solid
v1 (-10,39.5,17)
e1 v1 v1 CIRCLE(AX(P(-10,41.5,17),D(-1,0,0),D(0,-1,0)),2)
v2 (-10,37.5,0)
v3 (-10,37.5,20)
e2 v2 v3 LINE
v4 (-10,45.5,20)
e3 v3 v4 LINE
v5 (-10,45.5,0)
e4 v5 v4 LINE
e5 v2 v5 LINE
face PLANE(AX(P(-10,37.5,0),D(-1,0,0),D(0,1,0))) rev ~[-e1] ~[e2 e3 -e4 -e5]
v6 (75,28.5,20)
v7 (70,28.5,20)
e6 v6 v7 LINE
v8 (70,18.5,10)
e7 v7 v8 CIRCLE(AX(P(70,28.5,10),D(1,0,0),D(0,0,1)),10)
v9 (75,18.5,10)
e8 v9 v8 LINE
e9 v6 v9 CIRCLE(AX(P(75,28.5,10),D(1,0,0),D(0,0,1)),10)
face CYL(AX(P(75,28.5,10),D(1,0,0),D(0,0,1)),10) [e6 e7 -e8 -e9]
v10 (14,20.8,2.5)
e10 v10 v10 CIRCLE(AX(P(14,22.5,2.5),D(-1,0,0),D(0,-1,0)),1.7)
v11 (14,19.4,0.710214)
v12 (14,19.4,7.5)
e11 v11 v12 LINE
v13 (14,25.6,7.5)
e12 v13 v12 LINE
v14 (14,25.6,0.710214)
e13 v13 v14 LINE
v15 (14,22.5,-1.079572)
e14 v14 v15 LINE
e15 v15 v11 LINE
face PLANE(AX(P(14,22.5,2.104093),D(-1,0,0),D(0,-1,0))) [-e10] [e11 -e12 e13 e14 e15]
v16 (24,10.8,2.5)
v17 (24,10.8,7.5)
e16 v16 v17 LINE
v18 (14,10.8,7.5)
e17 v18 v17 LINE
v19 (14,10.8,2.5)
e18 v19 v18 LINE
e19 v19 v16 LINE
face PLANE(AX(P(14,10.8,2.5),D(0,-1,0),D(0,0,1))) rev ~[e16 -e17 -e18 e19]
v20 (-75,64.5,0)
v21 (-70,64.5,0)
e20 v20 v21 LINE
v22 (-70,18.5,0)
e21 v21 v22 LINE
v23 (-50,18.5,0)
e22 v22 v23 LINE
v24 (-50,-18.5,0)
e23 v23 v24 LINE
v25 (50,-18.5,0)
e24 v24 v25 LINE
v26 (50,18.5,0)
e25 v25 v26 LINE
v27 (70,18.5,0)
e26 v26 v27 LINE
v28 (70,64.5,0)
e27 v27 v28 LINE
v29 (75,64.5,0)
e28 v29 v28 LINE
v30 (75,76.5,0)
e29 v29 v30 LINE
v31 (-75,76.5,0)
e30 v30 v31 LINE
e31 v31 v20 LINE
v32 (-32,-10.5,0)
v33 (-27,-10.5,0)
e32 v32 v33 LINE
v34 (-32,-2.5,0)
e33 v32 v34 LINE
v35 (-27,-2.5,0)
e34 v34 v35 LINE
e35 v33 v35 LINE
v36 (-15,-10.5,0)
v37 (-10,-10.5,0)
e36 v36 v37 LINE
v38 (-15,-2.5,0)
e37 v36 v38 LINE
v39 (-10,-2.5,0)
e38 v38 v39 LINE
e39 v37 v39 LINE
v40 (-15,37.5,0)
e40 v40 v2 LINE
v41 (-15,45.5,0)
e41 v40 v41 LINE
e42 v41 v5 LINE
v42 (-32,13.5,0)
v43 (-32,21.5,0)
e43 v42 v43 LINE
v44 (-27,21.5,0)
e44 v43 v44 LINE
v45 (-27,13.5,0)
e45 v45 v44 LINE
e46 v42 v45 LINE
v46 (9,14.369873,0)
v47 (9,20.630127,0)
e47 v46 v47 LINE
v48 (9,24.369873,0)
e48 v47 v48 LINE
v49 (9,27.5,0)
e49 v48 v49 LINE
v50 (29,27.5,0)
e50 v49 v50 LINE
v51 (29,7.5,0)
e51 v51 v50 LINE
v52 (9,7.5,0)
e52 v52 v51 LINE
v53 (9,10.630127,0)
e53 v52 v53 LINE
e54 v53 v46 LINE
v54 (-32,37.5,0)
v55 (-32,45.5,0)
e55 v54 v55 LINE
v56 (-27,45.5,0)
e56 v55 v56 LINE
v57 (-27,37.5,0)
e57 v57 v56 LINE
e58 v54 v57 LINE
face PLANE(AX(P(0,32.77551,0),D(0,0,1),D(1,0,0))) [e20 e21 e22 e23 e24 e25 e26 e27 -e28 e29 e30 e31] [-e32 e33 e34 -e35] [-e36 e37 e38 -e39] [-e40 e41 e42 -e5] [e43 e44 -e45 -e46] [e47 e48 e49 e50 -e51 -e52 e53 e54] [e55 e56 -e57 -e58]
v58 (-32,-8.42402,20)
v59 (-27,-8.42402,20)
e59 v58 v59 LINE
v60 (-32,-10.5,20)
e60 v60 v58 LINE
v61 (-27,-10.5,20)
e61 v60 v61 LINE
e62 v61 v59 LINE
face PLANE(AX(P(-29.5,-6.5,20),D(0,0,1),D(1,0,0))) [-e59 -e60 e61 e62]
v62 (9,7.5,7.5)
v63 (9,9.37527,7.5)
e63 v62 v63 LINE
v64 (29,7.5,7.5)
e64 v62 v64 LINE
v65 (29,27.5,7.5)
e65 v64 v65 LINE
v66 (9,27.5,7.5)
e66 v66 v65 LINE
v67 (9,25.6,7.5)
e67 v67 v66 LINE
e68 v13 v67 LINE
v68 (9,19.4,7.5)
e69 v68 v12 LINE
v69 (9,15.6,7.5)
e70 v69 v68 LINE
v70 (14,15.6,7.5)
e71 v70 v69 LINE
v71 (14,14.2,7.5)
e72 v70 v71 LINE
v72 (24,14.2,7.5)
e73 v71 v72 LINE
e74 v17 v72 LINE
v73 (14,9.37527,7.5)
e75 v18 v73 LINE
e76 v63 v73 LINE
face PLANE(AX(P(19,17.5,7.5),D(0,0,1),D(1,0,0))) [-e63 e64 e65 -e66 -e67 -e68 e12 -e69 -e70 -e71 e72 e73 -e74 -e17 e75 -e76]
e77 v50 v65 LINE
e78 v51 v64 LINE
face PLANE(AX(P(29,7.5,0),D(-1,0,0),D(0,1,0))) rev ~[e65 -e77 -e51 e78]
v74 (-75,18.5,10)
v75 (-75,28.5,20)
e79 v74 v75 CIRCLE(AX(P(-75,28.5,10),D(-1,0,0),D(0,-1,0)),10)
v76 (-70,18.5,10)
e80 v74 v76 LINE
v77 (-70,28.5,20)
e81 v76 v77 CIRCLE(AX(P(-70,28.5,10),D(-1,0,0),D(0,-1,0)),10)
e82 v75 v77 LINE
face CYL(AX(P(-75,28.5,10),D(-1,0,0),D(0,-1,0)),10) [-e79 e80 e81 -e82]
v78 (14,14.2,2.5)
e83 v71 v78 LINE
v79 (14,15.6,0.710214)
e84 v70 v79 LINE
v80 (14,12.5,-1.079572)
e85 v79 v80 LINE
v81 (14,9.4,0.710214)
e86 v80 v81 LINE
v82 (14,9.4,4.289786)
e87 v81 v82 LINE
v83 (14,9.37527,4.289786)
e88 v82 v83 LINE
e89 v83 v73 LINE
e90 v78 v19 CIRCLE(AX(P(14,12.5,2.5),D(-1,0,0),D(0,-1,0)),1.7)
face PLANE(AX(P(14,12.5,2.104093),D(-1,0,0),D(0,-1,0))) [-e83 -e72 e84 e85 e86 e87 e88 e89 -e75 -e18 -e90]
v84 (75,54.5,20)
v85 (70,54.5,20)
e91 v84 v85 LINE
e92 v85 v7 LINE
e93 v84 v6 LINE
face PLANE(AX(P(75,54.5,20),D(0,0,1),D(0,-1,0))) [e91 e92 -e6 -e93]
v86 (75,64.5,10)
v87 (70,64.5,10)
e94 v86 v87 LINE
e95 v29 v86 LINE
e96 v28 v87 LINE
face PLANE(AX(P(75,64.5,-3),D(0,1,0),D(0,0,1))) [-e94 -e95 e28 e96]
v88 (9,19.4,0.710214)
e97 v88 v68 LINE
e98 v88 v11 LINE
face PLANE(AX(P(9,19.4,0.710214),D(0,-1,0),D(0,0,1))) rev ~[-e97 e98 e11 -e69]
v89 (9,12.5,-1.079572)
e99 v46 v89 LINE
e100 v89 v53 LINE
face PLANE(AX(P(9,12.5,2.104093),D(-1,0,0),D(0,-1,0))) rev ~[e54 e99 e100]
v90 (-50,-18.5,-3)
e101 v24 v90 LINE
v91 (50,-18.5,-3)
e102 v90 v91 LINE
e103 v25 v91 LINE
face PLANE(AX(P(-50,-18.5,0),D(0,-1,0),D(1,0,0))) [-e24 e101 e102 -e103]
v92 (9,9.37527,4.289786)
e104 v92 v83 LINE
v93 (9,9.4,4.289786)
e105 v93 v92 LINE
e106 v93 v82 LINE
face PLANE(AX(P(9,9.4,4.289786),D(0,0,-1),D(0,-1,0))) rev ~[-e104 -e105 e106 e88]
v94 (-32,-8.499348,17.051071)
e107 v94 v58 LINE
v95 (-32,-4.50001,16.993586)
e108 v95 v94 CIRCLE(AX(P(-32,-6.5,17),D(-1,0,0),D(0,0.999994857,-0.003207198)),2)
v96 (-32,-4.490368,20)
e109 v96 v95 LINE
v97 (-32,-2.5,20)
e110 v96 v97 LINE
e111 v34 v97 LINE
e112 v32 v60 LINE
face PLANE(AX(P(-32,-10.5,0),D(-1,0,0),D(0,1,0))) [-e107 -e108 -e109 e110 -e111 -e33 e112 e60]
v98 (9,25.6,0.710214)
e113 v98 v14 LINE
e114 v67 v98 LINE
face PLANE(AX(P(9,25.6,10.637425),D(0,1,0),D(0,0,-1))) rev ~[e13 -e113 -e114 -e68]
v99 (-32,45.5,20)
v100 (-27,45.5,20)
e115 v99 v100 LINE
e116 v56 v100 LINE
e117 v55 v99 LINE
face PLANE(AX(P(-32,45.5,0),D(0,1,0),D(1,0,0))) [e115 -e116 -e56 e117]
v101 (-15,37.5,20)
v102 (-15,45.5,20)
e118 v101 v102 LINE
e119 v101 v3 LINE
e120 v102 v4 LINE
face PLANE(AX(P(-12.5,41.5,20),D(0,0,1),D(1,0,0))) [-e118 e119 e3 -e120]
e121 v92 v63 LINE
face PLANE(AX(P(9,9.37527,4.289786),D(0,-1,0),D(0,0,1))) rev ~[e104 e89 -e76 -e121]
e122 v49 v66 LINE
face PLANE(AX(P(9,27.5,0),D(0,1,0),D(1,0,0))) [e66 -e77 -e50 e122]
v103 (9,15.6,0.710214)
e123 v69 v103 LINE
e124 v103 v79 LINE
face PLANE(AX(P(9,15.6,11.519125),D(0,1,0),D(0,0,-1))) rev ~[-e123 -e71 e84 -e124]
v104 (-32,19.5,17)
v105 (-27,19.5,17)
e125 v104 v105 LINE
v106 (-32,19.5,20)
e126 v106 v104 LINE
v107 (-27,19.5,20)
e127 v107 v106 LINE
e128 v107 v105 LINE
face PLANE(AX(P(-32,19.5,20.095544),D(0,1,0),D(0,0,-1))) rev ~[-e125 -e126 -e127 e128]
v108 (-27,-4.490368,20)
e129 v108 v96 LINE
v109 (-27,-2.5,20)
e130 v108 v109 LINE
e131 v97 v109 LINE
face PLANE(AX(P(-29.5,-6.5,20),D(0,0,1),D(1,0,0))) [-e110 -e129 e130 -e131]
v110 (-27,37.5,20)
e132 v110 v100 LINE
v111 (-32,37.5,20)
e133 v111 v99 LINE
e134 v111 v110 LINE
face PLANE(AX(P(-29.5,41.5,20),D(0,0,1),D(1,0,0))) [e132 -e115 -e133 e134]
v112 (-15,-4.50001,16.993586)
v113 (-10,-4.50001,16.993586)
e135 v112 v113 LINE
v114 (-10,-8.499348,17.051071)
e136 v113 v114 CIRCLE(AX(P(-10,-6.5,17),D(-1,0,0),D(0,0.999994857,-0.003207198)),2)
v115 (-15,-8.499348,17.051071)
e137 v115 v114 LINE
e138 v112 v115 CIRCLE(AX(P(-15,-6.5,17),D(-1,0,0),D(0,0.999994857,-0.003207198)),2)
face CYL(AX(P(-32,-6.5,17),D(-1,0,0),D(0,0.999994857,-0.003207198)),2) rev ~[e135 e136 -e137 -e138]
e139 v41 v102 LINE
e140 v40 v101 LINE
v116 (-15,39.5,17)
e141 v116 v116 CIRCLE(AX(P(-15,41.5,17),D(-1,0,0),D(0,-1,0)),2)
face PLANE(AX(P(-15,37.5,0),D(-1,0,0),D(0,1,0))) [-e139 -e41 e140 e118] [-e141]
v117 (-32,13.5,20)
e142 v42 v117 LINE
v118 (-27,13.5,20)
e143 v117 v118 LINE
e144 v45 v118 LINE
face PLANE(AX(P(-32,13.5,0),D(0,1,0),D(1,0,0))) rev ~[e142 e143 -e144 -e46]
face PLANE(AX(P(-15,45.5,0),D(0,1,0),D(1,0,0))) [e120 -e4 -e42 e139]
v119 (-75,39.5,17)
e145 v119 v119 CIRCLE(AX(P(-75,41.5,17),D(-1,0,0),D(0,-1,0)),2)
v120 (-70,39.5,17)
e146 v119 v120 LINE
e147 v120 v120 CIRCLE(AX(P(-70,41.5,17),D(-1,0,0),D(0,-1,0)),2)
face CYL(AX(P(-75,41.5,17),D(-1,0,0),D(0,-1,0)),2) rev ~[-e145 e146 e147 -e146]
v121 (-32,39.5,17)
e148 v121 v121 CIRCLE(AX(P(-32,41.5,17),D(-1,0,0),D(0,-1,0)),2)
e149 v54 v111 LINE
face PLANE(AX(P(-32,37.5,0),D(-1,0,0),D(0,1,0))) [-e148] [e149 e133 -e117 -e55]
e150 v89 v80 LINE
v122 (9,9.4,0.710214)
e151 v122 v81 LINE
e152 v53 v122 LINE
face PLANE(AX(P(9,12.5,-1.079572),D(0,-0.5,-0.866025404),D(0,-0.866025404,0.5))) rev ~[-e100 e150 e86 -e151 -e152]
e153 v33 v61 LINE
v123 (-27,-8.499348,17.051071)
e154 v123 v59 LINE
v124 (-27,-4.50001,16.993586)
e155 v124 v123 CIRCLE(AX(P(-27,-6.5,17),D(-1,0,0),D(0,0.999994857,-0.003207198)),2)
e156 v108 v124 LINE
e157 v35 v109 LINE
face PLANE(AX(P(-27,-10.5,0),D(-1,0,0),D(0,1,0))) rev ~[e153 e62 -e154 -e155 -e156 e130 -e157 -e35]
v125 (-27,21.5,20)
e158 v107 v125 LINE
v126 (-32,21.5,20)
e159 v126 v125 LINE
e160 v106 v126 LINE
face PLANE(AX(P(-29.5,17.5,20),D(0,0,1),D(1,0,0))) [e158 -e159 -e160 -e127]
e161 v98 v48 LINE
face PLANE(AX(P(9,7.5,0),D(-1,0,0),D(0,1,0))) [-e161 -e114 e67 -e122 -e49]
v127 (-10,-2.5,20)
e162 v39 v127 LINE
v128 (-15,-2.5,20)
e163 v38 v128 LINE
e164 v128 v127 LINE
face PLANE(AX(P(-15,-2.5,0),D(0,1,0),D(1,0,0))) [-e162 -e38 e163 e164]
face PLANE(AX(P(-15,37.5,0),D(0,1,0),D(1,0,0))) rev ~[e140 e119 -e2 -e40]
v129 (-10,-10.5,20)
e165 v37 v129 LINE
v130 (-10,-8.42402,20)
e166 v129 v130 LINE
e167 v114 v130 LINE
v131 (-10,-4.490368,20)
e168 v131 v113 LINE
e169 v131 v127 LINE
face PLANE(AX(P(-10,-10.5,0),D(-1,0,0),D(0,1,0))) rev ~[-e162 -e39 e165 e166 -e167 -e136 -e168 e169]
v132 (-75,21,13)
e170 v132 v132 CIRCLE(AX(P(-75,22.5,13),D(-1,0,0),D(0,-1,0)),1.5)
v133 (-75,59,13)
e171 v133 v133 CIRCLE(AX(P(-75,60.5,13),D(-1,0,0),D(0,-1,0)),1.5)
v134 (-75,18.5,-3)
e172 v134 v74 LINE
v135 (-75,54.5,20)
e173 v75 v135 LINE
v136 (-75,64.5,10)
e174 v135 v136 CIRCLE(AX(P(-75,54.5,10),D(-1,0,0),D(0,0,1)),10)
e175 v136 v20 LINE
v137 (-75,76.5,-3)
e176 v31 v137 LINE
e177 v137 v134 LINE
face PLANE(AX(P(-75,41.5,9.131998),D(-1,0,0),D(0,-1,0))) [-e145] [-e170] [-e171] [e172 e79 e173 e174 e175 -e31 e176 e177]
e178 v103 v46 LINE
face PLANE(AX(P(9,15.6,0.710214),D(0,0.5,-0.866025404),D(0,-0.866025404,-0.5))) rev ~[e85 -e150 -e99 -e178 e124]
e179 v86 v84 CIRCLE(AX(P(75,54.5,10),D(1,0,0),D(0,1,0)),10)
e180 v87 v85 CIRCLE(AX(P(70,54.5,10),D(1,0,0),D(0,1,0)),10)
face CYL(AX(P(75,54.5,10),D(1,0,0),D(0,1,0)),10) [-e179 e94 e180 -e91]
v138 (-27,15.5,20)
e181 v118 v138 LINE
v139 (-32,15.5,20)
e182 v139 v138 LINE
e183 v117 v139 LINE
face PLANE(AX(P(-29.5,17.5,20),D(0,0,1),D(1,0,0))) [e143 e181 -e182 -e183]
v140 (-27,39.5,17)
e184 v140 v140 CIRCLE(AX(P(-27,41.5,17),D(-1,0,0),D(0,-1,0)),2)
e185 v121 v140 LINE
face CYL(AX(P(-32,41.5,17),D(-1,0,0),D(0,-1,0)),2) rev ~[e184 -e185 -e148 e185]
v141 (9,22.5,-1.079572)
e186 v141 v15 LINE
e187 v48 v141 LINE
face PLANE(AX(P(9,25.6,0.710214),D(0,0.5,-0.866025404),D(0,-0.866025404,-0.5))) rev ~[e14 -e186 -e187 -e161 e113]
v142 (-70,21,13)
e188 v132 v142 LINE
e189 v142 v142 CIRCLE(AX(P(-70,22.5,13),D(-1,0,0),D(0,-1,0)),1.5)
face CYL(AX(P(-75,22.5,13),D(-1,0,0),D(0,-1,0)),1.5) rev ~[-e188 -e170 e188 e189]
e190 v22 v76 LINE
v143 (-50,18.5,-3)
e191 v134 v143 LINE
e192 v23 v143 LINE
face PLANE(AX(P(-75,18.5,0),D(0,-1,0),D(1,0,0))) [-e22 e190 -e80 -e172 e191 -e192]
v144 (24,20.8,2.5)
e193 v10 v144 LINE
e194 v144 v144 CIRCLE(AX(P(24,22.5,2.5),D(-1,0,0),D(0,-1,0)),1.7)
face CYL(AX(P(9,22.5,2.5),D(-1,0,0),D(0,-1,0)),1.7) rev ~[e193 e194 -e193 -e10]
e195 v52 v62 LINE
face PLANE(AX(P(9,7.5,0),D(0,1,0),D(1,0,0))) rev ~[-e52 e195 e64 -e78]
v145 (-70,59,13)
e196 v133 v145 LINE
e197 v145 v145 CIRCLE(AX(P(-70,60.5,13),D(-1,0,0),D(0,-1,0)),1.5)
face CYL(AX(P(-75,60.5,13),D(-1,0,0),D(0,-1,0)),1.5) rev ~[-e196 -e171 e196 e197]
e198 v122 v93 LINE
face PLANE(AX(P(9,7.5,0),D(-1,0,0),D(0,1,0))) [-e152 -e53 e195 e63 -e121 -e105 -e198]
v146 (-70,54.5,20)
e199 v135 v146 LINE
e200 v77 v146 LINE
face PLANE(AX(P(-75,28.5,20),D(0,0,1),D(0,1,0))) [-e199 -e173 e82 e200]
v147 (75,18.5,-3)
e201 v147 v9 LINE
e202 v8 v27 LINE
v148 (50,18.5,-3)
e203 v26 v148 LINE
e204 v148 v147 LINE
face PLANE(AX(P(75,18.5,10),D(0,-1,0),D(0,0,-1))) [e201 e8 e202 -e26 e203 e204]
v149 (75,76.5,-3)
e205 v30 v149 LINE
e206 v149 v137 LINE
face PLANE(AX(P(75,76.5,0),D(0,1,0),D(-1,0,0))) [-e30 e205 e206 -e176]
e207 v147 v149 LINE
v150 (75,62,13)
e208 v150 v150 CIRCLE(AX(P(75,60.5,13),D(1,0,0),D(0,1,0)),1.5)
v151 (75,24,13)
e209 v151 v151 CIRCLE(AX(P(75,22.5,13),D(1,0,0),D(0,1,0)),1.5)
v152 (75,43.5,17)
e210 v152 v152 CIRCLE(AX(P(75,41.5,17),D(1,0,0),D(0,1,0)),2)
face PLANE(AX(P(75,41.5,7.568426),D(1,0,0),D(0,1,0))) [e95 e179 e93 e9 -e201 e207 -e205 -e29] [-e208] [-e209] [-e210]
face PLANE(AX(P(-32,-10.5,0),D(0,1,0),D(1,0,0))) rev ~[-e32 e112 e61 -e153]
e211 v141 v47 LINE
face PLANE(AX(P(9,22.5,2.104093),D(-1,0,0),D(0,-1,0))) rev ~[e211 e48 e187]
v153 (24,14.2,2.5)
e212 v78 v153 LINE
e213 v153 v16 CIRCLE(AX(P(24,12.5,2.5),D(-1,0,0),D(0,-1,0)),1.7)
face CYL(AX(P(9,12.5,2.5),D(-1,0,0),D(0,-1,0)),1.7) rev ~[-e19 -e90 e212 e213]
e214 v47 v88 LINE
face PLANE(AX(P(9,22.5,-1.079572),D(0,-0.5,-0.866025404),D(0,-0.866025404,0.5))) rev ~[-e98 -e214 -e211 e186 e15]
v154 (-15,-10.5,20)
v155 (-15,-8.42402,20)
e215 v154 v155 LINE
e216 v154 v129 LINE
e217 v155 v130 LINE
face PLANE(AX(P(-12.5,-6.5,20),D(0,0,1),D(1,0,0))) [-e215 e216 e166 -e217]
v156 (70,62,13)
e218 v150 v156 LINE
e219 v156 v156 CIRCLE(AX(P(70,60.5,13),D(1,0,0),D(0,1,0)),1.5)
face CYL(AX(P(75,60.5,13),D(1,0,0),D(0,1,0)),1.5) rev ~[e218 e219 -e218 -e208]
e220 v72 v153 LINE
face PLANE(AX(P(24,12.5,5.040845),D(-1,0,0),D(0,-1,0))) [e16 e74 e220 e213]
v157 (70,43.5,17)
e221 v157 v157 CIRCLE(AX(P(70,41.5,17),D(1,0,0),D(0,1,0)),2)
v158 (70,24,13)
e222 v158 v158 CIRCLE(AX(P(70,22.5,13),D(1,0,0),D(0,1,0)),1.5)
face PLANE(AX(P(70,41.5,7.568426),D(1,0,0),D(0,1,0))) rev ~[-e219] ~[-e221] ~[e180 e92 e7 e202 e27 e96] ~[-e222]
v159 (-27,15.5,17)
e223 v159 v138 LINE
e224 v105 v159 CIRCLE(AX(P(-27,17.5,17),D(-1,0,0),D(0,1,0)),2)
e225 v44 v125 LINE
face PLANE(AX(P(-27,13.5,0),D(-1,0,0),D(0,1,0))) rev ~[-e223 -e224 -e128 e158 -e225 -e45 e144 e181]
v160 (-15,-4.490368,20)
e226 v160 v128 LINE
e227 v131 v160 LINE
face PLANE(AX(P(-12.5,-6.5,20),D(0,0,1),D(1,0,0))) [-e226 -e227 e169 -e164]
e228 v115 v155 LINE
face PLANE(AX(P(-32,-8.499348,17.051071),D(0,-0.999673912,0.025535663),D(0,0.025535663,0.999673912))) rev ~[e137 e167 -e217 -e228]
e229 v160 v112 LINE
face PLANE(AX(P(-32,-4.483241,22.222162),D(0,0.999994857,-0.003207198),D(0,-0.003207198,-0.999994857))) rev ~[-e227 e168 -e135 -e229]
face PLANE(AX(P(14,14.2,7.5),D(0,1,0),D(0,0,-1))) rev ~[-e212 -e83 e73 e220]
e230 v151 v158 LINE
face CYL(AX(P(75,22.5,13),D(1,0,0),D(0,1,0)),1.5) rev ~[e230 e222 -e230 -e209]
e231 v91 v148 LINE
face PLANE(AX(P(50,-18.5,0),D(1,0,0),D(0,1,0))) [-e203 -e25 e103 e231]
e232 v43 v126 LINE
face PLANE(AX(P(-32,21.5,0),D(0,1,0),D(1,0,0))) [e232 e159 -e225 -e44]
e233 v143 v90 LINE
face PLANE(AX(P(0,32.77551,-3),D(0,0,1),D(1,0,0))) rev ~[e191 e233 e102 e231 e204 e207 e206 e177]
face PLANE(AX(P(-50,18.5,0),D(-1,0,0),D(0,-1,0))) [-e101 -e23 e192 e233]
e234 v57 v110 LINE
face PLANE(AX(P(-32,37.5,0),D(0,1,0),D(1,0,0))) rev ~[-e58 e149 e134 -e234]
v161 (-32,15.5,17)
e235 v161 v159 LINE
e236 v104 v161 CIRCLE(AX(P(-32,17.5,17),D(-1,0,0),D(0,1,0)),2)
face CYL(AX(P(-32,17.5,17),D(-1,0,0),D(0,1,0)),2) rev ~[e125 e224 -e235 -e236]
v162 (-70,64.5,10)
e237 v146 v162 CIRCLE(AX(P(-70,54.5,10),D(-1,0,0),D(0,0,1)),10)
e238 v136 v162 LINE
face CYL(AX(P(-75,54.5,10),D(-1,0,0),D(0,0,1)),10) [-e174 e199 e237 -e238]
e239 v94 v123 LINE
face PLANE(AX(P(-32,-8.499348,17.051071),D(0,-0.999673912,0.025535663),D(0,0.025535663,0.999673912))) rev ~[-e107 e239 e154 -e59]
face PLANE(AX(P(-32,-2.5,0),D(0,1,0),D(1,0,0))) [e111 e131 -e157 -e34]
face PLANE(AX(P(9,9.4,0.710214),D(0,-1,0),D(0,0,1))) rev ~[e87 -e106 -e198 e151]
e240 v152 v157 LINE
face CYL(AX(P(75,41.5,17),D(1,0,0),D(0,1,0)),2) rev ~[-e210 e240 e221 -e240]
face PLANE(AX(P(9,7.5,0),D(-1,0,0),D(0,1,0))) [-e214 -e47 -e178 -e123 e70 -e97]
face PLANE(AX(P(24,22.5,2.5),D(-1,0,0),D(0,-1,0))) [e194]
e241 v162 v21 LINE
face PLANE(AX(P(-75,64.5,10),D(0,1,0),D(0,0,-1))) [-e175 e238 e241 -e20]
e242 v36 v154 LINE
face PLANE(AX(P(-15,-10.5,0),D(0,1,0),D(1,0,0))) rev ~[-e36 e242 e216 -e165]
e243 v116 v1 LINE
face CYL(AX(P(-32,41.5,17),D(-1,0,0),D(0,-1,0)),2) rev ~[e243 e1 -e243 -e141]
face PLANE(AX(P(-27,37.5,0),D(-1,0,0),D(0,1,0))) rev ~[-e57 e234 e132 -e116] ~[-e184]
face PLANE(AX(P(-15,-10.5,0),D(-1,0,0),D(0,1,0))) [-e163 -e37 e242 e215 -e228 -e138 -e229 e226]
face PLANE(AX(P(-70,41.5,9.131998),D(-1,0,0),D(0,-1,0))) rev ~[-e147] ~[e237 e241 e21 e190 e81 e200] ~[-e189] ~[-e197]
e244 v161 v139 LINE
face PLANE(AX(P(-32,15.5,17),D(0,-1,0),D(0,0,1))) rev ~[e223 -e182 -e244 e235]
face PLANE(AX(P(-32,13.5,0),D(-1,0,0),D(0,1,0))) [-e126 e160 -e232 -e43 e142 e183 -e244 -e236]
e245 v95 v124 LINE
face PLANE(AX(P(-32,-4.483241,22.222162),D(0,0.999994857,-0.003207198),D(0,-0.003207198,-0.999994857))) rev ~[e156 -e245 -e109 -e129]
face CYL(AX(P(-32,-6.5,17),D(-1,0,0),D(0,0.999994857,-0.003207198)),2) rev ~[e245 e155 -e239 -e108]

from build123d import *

# Parameters (mm, degrees)
F1_DEPTH  = 3
F2_R      = 1.5
F2_R_2    = 2
F3_DEPTH  = 5
F4_R      = 1.5
F4_R_2    = 2
F5_DEPTH  = 5
F6_W      = 5
F6_H      = 8
F7_DEPTH  = 20
F9_DEPTH  = 25.4
F10_R     = 2
F11_DEPTH = 25.4
F12_W     = 20
F12_H     = 20
F13_DEPTH = 7.5
F14_R     = 1.7
F15_DEPTH = 5
F16_DEPTH = 15
F18_DEPTH = 10


with BuildPart() as f1:
    # F0 (on Top) → F1 (new body)
    with BuildSketch(Plane.XY):
        Polygon((-50, -18.5), (50, -18.5), (50, 18.5), (75, 18.5), (75, 76.5), (-75, 76.5), (-75, 18.5), (-50, 18.5), align=None)
    extrude(amount=-F1_DEPTH)

    # F2 (on face) → F3 (join)
    with BuildSketch(Plane.YZ.offset(75)):
        with BuildLine():
            Line((18.5, 10), (18.5, -3))
            Line((18.5, -3), (64.5, -3))
            Line((64.5, -3), (64.5, 10))
            ThreePointArc((64.5, 10), (61.5710678119, 17.0710678119), (54.5, 20))
            Line((54.5, 20), (28.5, 20))
            ThreePointArc((28.5, 20), (21.4289321881, 17.0710678119), (18.5, 10))
        make_face()
        with Locations((22.5, 13)):
            Circle(F2_R, mode=Mode.SUBTRACT)
        with Locations((60.5, 13)):
            Circle(F2_R, mode=Mode.SUBTRACT)
        with Locations((41.5, 17)):
            Circle(F2_R_2, mode=Mode.SUBTRACT)
    extrude(amount=-F3_DEPTH)

    # F4 (on face) → F5 (join)
    with BuildSketch(Plane(origin=(-75, 0, 0), x_dir=(0, -1, 0), z_dir=(-1, 0, 0))):
        with BuildLine():
            Line((-64.5, 10), (-64.5, 0))
            Line((-64.5, 0), (-18.5, 0))
            Line((-18.5, 0), (-18.5, 10))
            ThreePointArc((-18.5, 10), (-21.4289321881, 17.0710678119), (-28.5, 20))
            Line((-28.5, 20), (-54.5, 20))
            ThreePointArc((-54.5, 20), (-61.5710678119, 17.0710678119), (-64.5, 10))
        make_face()
        with Locations((-60.5, 13)):
            Circle(F4_R, mode=Mode.SUBTRACT)
        with Locations((-22.5, 13)):
            Circle(F4_R, mode=Mode.SUBTRACT)
        with Locations((-41.5, 17)):
            Circle(F4_R_2, mode=Mode.SUBTRACT)
    extrude(amount=-F5_DEPTH)

    # F6 (on face) → F7 (join)
    with BuildSketch(Plane.XY):
        with Locations((-29.5, 41.5)):
            Rectangle(F6_W, F6_H)
        with Locations((-29.5, 17.5)):
            Rectangle(F6_W, F6_H)
        with Locations((-29.5, -6.5)):
            Rectangle(F6_W, F6_H)
        with Locations((-12.5, 41.5)):
            Rectangle(F6_W, F6_H)
        with Locations((-12.5, -6.5)):
            Rectangle(F6_W, F6_H)
    extrude(amount=F7_DEPTH)

    # F8 (on face) → F9 (cut)
    with BuildSketch(Plane(origin=(-32, 0, 0), x_dir=(0, -1, 0), z_dir=(-1, 0, 0))):
        with BuildLine():
            Line((4.48324112, 22.2221616161), (4.5000102861, 16.9935856035))
            ThreePointArc((4.5000102861, 16.9935856035), (6.5287446527, 15.0002065744), (8.4993478236, 17.0510713252))
            Line((8.4993478236, 17.0510713252), (8.3693183096, 22.1414860464))
            Line((8.3693183096, 22.1414860464), (4.48324112, 22.2221616161))
        make_face()
        with BuildLine():
            Line((-19.5, 20.0955439359), (-19.5, 17))
            ThreePointArc((-19.5, 17), (-17.5, 15), (-15.5, 17))
            Line((-15.5, 17), (-15.5, 20.6426493824))
            Line((-15.5, 20.6426493824), (-19.5, 20.0955439359))
        make_face()
    extrude(amount=-F9_DEPTH, mode=Mode.SUBTRACT)

    # F10 (on face) → F11 (cut)
    with BuildSketch(Plane(origin=(-32, 0, 0), x_dir=(0, -1, 0), z_dir=(-1, 0, 0))):
        with Locations((-41.5, 17)):
            Circle(F10_R)
    extrude(amount=-F11_DEPTH, mode=Mode.SUBTRACT)

    # F12 (on face) → F13 (join)
    with BuildSketch(Plane.XY):
        with Locations((19, 17.5)):
            Rectangle(F12_W, F12_H)
    extrude(amount=F13_DEPTH)

    # F14 (on face) → F15 (cut)
    with BuildSketch(Plane(origin=(9, 0, 0), x_dir=(0, -1, 0), z_dir=(-1, 0, 0))):
        Polygon((-22.5, -1.079571669), (-19.4, 0.7102141655), (-19.4, 4.2897858345), (-25.6, 4.2897858345), (-25.6, 0.7102141655), align=None)
        with Locations((-22.5, 2.5)):
            Circle(F14_R, mode=Mode.SUBTRACT)
        Polygon((-25.6, 4.2897858345), (-19.4, 4.2897858345), (-22.5, 6.079571669), align=None)
        Polygon((-22.5, 6.079571669), (-19.4, 4.2897858345), (-19.4, 10.6374248862), (-25.6, 10.6374248862), (-25.6, 4.2897858345), align=None)
        Polygon((-12.5, -1.079571669), (-9.4, 0.7102141655), (-9.4, 4.2897858345), (-15.6, 4.2897858345), (-15.6, 0.7102141655), align=None)
        with Locations((-12.5, 2.5)):
            Circle(F14_R, mode=Mode.SUBTRACT)
        Polygon((-15.6, 4.2897858345), (-9.4, 4.2897858345), (-12.5, 6.079571669), align=None)
        Polygon((-12.5, 6.079571669), (-9.4, 4.2897858345), (-9.3752695248, 4.2897858345), (-9.3752695248, 11.5191247314), (-15.6, 11.5191247314), (-15.6, 4.2897858345), align=None)
        with Locations((-22.5, 2.5)):
            Circle(F14_R)
        with Locations((-12.5, 2.5)):
            Circle(F14_R)
    extrude(amount=-F15_DEPTH, mode=Mode.SUBTRACT)

    # F14 (on face) → F16 (cut)
    with BuildSketch(Plane(origin=(9, 0, 0), x_dir=(0, -1, 0), z_dir=(-1, 0, 0))):
        with Locations((-22.5, 2.5)):
            Circle(F14_R)
        with Locations((-12.5, 2.5)):
            Circle(F14_R)
    extrude(amount=-F16_DEPTH, mode=Mode.SUBTRACT)

    # F17 (on face) → F18 (cut)
    with BuildSketch(Plane(origin=(14, 0, 0), x_dir=(0, -1, 0), z_dir=(-1, 0, 0))):
        with BuildLine():
            Line((-14.2, 7.5), (-14.2, 2.5))
            ThreePointArc((-14.2, 2.5), (-12.5, 4.2), (-10.8, 2.5))
            Line((-10.8, 2.5), (-10.8, 7.5))
            Line((-10.8, 7.5), (-14.2, 7.5))
        make_face()
    extrude(amount=-F18_DEPTH, mode=Mode.SUBTRACT)


solid = f1.part
